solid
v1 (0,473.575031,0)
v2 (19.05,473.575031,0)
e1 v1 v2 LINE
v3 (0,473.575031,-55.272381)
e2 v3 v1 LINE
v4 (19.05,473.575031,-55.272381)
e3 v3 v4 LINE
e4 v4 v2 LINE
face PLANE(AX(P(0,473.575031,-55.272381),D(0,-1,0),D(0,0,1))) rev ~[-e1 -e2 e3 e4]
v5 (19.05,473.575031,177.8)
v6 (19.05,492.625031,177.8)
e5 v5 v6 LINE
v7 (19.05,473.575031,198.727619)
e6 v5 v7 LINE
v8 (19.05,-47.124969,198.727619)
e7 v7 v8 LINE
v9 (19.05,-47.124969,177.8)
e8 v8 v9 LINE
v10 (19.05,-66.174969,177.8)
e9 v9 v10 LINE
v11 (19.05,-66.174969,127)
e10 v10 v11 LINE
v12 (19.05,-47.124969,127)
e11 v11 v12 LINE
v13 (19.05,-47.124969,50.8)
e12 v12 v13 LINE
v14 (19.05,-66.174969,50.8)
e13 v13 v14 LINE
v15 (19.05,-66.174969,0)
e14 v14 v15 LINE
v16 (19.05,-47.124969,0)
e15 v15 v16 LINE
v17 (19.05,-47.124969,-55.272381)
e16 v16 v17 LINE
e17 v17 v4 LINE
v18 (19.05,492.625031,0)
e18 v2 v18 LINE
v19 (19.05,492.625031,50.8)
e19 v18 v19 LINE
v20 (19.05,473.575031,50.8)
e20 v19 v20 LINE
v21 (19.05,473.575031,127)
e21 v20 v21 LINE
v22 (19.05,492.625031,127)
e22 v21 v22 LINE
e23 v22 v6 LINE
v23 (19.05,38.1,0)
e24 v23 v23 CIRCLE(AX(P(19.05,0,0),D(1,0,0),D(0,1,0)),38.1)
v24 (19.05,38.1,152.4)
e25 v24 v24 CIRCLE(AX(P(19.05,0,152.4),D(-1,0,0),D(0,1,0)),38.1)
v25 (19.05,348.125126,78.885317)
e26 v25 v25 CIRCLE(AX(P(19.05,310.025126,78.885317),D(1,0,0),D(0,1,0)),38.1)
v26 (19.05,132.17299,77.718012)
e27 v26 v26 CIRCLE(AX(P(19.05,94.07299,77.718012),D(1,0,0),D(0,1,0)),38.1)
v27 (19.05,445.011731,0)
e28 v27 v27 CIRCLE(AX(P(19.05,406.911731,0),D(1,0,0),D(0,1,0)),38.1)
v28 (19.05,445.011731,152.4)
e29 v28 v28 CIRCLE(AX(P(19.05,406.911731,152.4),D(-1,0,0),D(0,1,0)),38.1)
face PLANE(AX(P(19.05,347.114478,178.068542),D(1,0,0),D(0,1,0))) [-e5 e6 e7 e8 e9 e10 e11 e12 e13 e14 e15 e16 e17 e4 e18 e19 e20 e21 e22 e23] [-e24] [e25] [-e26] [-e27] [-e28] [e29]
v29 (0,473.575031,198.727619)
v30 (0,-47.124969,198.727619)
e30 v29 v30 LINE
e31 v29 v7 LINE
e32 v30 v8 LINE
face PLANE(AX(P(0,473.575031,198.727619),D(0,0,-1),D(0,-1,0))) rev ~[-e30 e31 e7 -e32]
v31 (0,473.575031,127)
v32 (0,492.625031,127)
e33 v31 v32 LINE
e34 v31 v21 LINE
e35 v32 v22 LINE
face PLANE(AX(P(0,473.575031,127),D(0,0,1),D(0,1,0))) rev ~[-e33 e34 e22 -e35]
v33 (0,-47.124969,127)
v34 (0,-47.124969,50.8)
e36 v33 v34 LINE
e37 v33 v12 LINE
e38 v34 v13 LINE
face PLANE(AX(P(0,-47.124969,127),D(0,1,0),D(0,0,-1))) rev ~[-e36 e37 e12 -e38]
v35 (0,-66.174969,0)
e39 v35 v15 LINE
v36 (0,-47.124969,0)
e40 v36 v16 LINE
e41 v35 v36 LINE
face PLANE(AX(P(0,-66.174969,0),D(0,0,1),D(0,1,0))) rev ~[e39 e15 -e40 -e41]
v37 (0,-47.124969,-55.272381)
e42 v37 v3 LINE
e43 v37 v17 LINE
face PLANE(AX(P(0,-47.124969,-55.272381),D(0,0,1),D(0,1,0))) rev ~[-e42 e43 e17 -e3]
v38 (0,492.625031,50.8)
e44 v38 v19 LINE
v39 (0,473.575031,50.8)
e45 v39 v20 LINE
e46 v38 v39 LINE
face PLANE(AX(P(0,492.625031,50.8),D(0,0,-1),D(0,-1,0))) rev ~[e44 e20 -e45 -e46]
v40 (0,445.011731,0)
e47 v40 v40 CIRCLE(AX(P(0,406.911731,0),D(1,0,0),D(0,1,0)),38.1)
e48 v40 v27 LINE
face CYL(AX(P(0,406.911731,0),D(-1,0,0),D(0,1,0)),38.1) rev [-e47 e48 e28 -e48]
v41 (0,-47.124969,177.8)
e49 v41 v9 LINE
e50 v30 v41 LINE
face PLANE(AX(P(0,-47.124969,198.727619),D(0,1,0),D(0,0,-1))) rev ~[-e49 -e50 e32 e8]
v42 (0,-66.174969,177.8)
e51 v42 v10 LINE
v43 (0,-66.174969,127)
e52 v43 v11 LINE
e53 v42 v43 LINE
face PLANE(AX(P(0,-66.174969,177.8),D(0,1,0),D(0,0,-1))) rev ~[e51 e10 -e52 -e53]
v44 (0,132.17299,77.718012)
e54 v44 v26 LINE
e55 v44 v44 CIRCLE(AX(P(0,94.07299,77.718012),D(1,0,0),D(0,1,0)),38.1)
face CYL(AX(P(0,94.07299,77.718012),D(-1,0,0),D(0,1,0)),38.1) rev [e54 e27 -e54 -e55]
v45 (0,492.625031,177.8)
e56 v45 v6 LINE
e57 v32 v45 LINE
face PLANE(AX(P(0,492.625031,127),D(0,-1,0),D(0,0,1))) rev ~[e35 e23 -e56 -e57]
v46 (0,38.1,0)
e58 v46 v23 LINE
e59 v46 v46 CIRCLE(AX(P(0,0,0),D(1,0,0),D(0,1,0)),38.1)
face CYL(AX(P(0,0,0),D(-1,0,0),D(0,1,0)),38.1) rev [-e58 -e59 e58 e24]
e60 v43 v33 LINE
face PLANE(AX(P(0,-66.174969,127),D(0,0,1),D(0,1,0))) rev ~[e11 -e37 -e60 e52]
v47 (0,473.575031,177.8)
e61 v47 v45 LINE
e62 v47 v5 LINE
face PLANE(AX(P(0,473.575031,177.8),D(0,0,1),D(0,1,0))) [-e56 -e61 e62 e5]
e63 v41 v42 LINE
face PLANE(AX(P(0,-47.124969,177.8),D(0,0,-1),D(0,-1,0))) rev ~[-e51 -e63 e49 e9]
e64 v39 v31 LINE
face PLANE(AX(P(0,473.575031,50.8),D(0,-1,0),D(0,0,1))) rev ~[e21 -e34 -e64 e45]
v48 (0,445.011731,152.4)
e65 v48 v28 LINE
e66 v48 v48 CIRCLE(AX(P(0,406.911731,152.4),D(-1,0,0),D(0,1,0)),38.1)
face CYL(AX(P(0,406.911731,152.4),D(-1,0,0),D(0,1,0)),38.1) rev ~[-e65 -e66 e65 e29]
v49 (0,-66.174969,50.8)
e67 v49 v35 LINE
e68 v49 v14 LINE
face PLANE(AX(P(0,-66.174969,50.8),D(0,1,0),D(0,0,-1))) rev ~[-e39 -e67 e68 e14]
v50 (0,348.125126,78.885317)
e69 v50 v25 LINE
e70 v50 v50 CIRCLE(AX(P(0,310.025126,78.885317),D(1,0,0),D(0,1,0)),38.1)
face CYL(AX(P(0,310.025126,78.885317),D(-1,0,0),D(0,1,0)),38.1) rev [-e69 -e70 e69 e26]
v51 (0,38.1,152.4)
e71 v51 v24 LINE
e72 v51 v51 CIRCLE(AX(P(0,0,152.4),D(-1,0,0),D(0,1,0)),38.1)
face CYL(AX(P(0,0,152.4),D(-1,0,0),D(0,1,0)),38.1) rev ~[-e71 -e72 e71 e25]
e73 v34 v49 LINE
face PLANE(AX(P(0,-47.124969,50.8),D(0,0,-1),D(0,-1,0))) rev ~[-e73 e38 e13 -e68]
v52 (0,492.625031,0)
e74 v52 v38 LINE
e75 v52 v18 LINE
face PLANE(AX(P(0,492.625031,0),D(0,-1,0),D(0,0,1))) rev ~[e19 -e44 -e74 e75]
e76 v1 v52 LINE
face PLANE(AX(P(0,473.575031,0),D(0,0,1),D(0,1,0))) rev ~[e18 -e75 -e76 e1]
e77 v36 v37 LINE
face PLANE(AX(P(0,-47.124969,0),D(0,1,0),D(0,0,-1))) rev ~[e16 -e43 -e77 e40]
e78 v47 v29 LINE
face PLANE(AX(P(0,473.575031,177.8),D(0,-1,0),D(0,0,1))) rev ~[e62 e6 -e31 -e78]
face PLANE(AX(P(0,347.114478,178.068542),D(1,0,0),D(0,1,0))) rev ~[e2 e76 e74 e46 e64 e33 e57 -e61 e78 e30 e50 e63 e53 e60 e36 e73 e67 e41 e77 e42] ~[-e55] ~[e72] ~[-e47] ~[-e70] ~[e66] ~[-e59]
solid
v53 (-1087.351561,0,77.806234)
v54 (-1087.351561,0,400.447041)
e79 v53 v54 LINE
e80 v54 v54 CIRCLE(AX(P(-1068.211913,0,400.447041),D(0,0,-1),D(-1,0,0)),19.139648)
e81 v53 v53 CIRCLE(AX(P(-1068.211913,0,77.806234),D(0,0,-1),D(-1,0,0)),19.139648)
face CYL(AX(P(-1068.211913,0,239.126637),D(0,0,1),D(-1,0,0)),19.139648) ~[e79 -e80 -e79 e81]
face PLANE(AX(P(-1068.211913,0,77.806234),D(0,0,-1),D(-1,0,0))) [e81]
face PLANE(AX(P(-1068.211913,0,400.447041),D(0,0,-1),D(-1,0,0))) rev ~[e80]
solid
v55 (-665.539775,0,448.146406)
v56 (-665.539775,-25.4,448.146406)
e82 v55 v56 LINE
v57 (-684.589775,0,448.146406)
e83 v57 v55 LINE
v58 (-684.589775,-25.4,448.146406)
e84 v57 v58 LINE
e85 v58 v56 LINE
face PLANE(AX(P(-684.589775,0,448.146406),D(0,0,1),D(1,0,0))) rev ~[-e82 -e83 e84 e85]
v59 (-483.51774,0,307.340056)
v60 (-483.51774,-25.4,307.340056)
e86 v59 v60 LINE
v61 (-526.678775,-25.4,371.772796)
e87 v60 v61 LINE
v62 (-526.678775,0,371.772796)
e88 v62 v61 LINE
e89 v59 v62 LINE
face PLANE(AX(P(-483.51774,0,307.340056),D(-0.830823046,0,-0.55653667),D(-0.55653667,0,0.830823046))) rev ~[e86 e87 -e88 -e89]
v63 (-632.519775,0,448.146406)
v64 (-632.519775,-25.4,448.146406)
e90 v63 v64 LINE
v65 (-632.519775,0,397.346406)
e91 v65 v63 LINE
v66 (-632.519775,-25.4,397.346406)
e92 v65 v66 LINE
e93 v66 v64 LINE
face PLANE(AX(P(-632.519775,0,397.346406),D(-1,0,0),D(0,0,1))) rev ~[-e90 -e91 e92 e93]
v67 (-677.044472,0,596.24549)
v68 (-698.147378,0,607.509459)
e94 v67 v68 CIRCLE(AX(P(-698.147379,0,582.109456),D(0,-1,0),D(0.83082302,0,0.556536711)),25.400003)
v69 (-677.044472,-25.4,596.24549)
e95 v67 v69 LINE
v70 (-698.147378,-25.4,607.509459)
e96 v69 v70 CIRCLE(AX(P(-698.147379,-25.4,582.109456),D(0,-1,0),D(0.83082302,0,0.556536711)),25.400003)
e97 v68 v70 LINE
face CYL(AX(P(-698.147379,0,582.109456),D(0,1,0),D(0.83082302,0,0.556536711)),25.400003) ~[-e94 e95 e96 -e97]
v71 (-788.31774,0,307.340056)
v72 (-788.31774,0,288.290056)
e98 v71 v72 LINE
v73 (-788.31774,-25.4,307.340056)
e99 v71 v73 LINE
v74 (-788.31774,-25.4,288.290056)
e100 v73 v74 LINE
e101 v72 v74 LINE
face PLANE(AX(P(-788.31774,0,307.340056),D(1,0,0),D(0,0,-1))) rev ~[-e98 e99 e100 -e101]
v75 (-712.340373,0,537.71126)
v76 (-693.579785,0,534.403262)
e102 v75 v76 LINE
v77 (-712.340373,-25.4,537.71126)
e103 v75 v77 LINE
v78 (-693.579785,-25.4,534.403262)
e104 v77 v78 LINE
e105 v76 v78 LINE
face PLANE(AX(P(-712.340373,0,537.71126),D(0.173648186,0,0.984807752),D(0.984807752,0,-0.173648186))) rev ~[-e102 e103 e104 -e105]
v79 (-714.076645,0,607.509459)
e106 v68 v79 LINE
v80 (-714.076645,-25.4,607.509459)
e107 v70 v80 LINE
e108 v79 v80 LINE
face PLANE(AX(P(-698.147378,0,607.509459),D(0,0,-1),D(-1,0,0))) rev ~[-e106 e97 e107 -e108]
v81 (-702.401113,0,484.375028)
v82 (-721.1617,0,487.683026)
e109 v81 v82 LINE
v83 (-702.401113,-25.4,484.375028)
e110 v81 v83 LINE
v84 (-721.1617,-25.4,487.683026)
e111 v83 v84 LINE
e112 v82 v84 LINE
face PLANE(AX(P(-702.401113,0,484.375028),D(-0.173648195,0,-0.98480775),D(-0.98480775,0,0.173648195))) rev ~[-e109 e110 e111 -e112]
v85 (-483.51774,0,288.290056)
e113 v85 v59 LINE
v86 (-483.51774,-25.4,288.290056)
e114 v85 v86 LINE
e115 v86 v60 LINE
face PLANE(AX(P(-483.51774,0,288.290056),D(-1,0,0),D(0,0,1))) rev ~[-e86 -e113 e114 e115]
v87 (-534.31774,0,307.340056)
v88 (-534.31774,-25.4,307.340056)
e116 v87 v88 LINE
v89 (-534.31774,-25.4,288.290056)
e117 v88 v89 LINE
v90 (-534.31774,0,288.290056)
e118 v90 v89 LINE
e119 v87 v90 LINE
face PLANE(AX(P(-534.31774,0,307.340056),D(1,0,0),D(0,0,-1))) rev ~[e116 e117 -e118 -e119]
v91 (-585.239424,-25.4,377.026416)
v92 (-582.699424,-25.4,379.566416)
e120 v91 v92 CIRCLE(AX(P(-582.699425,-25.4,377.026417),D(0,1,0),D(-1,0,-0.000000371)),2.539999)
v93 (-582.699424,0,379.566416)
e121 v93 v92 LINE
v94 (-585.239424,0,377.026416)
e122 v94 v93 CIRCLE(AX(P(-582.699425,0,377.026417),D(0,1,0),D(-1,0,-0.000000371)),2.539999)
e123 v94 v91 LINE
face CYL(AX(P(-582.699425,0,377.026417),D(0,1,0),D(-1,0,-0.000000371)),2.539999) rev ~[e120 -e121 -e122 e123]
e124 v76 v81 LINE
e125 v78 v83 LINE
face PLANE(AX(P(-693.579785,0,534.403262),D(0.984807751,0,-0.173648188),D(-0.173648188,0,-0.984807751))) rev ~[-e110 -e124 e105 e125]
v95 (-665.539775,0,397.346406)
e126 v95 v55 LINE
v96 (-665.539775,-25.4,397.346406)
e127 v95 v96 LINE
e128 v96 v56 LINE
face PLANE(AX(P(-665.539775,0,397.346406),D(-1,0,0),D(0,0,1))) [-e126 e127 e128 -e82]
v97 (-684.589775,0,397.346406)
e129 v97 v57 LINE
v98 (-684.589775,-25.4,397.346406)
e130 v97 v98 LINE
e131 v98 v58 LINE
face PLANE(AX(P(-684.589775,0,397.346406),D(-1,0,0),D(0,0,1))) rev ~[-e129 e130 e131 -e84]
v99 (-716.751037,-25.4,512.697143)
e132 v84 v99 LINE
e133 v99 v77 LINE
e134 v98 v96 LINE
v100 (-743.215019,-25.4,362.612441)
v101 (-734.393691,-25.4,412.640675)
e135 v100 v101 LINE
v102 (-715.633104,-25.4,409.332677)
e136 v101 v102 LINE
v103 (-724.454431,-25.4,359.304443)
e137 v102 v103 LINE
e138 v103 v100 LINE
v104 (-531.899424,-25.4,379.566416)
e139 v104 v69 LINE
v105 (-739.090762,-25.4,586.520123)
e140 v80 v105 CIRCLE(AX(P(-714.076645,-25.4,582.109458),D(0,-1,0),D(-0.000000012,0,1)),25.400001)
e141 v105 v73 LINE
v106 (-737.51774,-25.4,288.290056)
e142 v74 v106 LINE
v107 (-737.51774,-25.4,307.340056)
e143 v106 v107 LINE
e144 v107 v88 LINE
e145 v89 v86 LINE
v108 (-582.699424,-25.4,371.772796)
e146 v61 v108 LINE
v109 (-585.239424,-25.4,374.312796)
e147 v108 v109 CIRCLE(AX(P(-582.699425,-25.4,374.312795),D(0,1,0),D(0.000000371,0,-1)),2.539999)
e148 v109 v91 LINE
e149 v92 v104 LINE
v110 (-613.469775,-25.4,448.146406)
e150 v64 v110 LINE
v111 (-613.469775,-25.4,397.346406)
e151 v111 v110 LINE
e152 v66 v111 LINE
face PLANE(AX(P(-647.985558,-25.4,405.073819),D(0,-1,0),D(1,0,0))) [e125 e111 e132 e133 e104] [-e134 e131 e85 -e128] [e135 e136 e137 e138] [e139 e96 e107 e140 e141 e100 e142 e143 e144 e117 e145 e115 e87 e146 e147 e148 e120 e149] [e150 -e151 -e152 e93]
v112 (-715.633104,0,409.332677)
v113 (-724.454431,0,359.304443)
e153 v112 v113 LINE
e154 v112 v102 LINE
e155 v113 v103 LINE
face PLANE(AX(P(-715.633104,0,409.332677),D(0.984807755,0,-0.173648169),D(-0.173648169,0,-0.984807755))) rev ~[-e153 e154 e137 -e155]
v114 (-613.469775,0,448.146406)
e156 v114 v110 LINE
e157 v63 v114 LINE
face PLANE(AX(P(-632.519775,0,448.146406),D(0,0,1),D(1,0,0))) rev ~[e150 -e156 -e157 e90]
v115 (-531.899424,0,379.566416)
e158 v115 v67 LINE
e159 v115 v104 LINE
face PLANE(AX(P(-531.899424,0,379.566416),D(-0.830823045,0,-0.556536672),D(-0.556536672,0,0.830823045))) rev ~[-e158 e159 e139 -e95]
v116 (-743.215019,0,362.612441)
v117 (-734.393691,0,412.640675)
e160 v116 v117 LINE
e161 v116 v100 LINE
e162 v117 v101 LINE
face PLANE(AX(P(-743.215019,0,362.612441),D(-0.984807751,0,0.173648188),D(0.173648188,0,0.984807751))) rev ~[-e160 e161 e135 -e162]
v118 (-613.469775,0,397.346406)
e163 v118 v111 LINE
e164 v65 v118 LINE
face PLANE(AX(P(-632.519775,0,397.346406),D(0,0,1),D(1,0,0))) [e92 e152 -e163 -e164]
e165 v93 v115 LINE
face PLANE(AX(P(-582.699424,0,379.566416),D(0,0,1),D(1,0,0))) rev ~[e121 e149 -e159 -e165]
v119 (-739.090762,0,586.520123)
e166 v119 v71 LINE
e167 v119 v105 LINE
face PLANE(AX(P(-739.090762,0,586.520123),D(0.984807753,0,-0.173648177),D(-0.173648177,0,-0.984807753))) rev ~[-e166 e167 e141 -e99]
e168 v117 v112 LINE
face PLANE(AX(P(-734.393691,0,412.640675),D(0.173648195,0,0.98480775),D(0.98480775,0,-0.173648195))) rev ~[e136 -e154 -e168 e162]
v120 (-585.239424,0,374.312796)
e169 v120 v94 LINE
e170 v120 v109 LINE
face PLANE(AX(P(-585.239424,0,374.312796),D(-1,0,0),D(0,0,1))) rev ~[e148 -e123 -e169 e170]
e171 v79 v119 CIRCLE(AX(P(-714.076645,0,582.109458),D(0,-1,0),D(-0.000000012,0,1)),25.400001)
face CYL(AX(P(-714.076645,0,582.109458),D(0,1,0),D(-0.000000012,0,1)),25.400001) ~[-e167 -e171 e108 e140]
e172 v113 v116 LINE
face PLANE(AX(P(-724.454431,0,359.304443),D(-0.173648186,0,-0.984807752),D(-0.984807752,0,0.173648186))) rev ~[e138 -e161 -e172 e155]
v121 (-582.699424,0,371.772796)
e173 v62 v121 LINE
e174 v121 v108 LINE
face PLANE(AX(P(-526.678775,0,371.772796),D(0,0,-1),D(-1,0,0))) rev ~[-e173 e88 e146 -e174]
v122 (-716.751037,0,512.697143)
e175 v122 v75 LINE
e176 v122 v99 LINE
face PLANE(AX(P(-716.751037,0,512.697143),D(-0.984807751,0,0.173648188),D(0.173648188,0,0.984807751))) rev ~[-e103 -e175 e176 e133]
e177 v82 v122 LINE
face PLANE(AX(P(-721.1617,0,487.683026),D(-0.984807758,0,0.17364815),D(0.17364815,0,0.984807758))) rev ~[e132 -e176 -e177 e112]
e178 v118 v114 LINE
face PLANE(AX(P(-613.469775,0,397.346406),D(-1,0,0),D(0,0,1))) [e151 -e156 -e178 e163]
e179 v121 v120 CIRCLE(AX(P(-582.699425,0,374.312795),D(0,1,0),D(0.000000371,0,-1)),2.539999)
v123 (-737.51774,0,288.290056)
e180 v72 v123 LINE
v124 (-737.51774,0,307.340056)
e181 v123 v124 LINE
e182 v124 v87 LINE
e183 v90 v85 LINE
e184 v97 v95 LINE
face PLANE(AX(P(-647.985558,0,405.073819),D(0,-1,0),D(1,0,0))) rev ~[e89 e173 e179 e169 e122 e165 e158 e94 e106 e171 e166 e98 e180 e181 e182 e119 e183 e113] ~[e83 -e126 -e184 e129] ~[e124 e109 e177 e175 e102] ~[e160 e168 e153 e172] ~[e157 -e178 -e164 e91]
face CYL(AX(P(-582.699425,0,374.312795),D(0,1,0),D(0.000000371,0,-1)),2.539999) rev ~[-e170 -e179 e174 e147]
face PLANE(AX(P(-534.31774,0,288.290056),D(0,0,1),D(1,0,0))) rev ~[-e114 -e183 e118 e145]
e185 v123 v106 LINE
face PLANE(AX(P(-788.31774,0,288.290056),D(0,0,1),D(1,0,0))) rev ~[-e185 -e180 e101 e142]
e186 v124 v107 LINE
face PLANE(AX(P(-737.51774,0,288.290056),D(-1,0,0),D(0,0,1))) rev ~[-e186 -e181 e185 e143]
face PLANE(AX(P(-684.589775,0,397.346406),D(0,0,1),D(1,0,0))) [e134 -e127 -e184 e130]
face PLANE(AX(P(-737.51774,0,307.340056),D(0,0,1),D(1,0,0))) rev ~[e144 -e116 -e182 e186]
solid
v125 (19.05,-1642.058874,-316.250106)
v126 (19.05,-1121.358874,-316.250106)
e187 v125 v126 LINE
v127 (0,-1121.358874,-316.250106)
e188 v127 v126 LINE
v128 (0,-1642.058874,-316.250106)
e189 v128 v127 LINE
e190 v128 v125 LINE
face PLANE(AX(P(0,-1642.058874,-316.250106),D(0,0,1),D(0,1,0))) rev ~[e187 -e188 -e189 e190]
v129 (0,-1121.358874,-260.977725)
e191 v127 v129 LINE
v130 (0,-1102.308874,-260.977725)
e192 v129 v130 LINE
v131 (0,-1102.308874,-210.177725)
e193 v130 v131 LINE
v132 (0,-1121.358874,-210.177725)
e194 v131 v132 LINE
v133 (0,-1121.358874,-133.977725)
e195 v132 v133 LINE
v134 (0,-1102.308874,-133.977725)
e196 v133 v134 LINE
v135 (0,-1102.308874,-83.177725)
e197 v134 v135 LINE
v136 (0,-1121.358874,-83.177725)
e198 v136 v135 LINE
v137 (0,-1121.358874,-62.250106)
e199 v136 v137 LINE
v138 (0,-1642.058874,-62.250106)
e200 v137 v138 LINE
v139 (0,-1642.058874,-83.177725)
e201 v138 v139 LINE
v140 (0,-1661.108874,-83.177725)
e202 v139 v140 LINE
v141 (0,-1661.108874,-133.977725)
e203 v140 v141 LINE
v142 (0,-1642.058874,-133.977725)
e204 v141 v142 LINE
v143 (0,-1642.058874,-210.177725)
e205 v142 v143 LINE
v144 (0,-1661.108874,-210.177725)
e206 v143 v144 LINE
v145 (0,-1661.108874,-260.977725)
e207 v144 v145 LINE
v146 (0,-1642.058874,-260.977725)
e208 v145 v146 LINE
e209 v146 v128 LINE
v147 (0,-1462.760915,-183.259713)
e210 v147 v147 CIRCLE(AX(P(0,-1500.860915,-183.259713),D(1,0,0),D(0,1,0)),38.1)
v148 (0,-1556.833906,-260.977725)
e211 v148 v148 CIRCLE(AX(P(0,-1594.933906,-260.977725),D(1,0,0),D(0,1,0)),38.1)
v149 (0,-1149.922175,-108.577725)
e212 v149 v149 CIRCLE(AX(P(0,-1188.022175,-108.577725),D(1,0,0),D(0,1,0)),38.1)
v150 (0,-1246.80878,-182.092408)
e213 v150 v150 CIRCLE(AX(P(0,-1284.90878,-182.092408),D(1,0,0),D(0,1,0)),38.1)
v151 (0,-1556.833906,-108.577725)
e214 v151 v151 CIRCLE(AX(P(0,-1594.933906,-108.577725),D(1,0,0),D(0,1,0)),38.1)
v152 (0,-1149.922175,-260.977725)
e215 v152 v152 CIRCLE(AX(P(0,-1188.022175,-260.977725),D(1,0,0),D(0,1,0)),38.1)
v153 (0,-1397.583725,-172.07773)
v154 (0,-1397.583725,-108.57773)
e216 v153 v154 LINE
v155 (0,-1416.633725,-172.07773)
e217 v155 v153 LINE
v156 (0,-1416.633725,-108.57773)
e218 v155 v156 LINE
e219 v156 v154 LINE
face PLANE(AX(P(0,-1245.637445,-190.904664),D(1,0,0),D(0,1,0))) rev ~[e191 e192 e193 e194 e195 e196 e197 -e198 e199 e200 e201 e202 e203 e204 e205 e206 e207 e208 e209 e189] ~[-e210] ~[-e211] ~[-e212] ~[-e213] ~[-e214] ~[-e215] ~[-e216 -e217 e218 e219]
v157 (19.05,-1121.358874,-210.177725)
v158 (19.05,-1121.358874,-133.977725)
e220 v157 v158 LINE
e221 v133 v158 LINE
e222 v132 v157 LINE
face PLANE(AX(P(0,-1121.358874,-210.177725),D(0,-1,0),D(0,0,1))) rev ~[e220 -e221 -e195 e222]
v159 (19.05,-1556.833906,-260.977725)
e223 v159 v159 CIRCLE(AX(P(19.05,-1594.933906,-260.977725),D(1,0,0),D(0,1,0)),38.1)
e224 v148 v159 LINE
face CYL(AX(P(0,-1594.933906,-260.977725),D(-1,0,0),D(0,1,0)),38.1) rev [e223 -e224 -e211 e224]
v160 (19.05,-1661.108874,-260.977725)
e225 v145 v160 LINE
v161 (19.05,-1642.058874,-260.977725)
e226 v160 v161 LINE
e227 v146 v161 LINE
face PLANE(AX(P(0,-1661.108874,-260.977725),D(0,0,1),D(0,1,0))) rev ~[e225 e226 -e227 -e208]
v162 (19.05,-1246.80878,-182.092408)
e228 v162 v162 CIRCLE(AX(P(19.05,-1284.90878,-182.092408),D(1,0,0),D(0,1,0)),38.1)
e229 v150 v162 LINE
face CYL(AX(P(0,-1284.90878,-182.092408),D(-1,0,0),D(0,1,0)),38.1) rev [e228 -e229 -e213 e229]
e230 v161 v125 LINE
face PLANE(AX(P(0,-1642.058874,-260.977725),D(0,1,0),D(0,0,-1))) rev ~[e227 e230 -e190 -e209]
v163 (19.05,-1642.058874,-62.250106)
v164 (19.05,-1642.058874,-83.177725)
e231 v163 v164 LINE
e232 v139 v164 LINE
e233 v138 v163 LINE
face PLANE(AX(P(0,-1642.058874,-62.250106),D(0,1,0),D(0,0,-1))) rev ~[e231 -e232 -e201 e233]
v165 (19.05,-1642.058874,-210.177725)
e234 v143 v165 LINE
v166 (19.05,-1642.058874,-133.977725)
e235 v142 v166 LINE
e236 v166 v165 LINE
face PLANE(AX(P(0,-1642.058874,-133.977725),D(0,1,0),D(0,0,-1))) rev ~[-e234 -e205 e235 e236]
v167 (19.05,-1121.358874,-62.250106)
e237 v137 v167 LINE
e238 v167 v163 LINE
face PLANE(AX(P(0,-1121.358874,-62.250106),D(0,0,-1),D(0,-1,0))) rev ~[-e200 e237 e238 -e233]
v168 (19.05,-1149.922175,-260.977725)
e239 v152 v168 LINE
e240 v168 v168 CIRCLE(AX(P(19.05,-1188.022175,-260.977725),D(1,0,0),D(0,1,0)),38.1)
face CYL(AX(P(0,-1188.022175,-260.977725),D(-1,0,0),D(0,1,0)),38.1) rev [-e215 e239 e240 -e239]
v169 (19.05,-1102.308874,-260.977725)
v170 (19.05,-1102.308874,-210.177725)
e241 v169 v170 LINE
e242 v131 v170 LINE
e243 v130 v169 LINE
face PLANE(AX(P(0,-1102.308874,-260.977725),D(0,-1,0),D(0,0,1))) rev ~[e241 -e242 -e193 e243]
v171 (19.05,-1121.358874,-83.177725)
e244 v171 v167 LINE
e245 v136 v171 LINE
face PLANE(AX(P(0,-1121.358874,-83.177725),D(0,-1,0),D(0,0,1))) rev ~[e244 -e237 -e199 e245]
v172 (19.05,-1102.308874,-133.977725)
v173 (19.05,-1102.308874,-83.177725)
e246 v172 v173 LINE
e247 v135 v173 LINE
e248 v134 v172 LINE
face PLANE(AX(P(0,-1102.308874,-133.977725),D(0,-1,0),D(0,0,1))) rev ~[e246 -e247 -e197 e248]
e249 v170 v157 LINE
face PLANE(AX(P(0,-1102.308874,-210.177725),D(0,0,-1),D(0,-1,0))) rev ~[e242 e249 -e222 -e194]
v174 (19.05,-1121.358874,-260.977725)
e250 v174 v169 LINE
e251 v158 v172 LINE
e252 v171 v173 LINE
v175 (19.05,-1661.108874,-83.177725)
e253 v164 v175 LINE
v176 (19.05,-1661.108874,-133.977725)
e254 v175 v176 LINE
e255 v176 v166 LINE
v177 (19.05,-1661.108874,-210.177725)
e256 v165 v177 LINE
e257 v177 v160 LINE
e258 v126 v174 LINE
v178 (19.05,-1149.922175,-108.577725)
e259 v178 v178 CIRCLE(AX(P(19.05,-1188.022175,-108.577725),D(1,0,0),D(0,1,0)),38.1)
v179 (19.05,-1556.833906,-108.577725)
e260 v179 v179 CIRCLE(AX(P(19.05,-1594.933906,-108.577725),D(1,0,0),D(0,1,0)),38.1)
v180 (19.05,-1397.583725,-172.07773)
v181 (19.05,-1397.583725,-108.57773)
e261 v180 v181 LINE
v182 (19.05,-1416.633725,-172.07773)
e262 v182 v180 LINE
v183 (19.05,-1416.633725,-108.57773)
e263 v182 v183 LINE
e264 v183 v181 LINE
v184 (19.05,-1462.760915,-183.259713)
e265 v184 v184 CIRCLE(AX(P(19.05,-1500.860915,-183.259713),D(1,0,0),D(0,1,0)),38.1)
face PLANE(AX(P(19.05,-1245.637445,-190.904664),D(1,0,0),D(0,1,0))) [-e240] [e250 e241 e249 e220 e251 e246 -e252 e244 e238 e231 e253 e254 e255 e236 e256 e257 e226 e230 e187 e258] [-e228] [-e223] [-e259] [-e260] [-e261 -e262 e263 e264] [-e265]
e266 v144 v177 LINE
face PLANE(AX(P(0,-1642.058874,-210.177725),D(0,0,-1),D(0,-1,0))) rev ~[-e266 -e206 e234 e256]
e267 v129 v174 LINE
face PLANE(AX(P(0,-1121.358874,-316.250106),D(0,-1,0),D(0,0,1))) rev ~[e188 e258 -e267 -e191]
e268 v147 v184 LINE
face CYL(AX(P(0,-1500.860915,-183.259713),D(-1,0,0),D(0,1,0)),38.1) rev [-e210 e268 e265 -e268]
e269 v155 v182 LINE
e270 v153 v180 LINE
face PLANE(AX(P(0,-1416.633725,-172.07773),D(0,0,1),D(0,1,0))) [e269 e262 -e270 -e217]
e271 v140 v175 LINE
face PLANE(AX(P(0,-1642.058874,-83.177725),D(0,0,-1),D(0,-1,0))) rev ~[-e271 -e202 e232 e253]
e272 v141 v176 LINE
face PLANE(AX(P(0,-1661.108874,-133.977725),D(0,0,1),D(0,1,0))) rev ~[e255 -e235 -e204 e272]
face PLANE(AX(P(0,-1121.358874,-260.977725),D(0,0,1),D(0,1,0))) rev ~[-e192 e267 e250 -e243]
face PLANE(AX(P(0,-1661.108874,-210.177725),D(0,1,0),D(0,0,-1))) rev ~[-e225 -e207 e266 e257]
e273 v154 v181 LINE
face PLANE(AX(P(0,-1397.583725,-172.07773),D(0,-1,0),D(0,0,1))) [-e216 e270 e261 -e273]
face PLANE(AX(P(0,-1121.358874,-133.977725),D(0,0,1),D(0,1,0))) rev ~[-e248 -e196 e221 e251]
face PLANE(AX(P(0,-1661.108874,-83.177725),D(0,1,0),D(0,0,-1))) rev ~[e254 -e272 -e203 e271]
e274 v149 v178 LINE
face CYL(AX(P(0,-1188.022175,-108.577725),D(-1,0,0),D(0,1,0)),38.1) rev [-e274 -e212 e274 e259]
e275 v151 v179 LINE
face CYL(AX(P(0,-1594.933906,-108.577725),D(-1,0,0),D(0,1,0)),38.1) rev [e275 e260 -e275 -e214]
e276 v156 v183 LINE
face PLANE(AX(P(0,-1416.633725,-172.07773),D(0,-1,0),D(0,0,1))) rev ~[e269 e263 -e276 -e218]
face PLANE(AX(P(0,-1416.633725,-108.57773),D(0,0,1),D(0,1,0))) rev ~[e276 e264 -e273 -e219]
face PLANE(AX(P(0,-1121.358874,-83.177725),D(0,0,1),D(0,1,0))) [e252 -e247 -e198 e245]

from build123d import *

# Parameters (mm, degrees)
F2_W     = 19.139648
F2_H     = 322.640807
F0_W     = 19.05
F0_H     = 50.8
F4_DEPTH = 25.4
F1_W     = 19.05
F1_H     = 25.4
F1_R     = 38.1
F1_H_2   = 63.5
F1_H_3   = 50.8
F5_DEPTH = 19.05


with BuildPart() as f3:
    # F2 (on Front) → F3 (revolve)
    with BuildSketch(Plane.XZ):
        with Locations((-1077.781737, 239.126637)):
            Rectangle(F2_W, F2_H)
    revolve(axis=Axis((-1068.211913, 0, 239.126638), (0, 0, -1)))


with BuildPart() as f4:
    # F0 (on Front) → F4 (new body)
    with BuildSketch(Plane.XZ):
        with BuildLine():
            Line((-737.51774, 288.290056), (-737.51774, 307.340056))
            Line((-737.51774, 307.340056), (-534.31774, 307.340056))
            Line((-534.31774, 307.340056), (-534.31774, 288.290056))
            Line((-534.31774, 288.290056), (-483.51774, 288.290056))
            Line((-483.51774, 288.290056), (-483.51774, 307.340056))
            Line((-483.51774, 307.340056), (-526.678775, 371.772796))
            Line((-526.678775, 371.772796), (-582.699424, 371.772796))
            ThreePointArc((-582.699424, 371.772796), (-584.495476, 372.516745), (-585.239424, 374.312796))
            Line((-585.239424, 374.312796), (-585.239424, 377.026416))
            ThreePointArc((-585.239424, 377.026416), (-584.495476, 378.822467), (-582.699424, 379.566416))
            Line((-582.699424, 379.566416), (-557.299424, 379.566416))
            Line((-557.299424, 379.566416), (-531.899424, 379.566416))
            Line((-531.899424, 379.566416), (-677.044472, 596.24549))
            ThreePointArc((-677.044472, 596.24549), (-686.186926, 604.517216), (-698.147378, 607.509459))
            Line((-698.147378, 607.509459), (-714.076645, 607.509459))
            ThreePointArc((-714.076645, 607.509459), (-730.40345, 601.566988), (-739.090762, 586.520123))
            Line((-739.090762, 586.520123), (-788.31774, 307.340056))
            Line((-788.31774, 307.340056), (-788.31774, 288.290056))
            Line((-788.31774, 288.290056), (-737.51774, 288.290056))
        make_face()
        Polygon((-734.393691, 412.640675), (-715.633104, 409.332677), (-724.454431, 359.304443), (-743.215019, 362.612441), align=None, mode=Mode.SUBTRACT)
        with Locations((-675.064775, 422.746406)):
            Rectangle(F0_W, F0_H, mode=Mode.SUBTRACT)
        with Locations((-622.994775, 422.746406)):
            Rectangle(F0_W, F0_H, mode=Mode.SUBTRACT)
        Polygon((-716.751037, 512.697143), (-712.340373, 537.71126), (-693.579785, 534.403262), (-702.401113, 484.375028), (-721.1617, 487.683026), align=None, mode=Mode.SUBTRACT)
    extrude(amount=F4_DEPTH)


with BuildPart() as f5:
    # F1 (on Right) → F5 (new body)
    with BuildSketch(Plane.YZ):
        with BuildLine():
            Line((473.575031, 177.8), (473.575031, 198.727619))
            Line((473.575031, 198.727619), (213.225031, 198.727619))
            Line((213.225031, 198.727619), (213.225031, 152.4))
            Line((213.225031, 152.4), (368.811731, 152.4))
            ThreePointArc((368.811731, 152.4), (406.911731, 190.5), (445.011731, 152.4))
            Line((445.011731, 152.4), (473.575031, 152.4))
            Line((473.575031, 152.4), (473.575031, 177.8))
        make_face()
        with BuildLine():
            Line((213.225031, 152.4), (213.225031, 198.727619))
            Line((213.225031, 198.727619), (-47.124969, 198.727619))
            Line((-47.124969, 198.727619), (-47.124969, 177.8))
            Line((-47.124969, 177.8), (-66.174969, 177.8))
            Line((-66.174969, 177.8), (-66.174969, 152.4))
            Line((-66.174969, 152.4), (-38.1, 152.4))
            ThreePointArc((-38.1, 152.4), (0, 190.5), (38.1, 152.4))
            Line((38.1, 152.4), (213.225031, 152.4))
        make_face()
        with Locations((483.100031, 165.1)):
            Rectangle(F1_W, F1_H)
        with BuildLine():
            Line((368.811731, 152.4), (213.225031, 152.4))
            Line((213.225031, 152.4), (213.225031, -55.272381))
            Line((213.225031, -55.272381), (473.575031, -55.272381))
            Line((473.575031, -55.272381), (473.575031, 0))
            Line((473.575031, 0), (492.625031, 0))
            Line((492.625031, 0), (492.625031, 50.8))
            Line((492.625031, 50.8), (473.575031, 50.8))
            Line((473.575031, 50.8), (473.575031, 127))
            Line((473.575031, 127), (473.575031, 152.4))
            Line((473.575031, 152.4), (445.011731, 152.4))
            ThreePointArc((445.011731, 152.4), (406.911731, 114.3), (368.811731, 152.4))
        make_face()
        with Locations((406.911731, 0)):
            Circle(F1_R, mode=Mode.SUBTRACT)
        with Locations((310.025126, 78.885317)):
            Circle(F1_R, mode=Mode.SUBTRACT)
        with BuildLine():
            Line((213.225031, -55.272381), (213.225031, 152.4))
            Line((213.225031, 152.4), (38.1, 152.4))
            ThreePointArc((38.1, 152.4), (0, 114.3), (-38.1, 152.4))
            Line((-38.1, 152.4), (-66.174969, 152.4))
            Line((-66.174969, 152.4), (-66.174969, 127))
            Line((-66.174969, 127), (-47.124969, 127))
            Line((-47.124969, 127), (-47.124969, 50.8))
            Line((-47.124969, 50.8), (-66.174969, 50.8))
            Line((-66.174969, 50.8), (-66.174969, 0))
            Line((-66.174969, 0), (-47.124969, 0))
            Line((-47.124969, 0), (-47.124969, -55.272381))
            Line((-47.124969, -55.272381), (213.225031, -55.272381))
        make_face()
        Circle(F1_R, mode=Mode.SUBTRACT)
        with Locations((94.07299, 77.718012)):
            Circle(F1_R, mode=Mode.SUBTRACT)
        with Locations((483.100031, 139.7)):
            Rectangle(F1_W, F1_H)
        Polygon((-1121.358874, -83.177725), (-1121.358874, -62.250106), (-1381.708874, -62.250106), (-1381.708874, -316.250106), (-1121.358874, -316.250106), (-1121.358874, -260.977725), (-1102.308874, -260.977725), (-1102.308874, -210.177725), (-1121.358874, -210.177725), (-1121.358874, -133.977725), align=None)
        with Locations((-1188.022175, -260.977725)):
            Circle(F1_R, mode=Mode.SUBTRACT)
        with Locations((-1284.90878, -182.092408)):
            Circle(F1_R, mode=Mode.SUBTRACT)
        with Locations((-1188.022175, -108.577725)):
            Circle(F1_R, mode=Mode.SUBTRACT)
        Polygon((-1381.708874, -316.250106), (-1381.708874, -62.250106), (-1642.058874, -62.250106), (-1642.058874, -83.177725), (-1661.108874, -83.177725), (-1661.108874, -133.977725), (-1642.058874, -133.977725), (-1642.058874, -210.177725), (-1661.108874, -210.177725), (-1661.108874, -260.977725), (-1642.058874, -260.977725), (-1642.058874, -316.250106), align=None)
        with Locations((-1594.933906, -260.977725)):
            Circle(F1_R, mode=Mode.SUBTRACT)
        with Locations((-1500.860915, -183.259713)):
            Circle(F1_R, mode=Mode.SUBTRACT)
        with Locations((-1407.108725, -140.32773)):
            Rectangle(F1_W, F1_H_2, mode=Mode.SUBTRACT)
        with Locations((-1594.933906, -108.577725)):
            Circle(F1_R, mode=Mode.SUBTRACT)
        with Locations((-1111.833874, -108.577725)):
            Rectangle(F1_W, F1_H_3)
    extrude(amount=F5_DEPTH)


solid = Compound([f3.part, f4.part, f5.part])
